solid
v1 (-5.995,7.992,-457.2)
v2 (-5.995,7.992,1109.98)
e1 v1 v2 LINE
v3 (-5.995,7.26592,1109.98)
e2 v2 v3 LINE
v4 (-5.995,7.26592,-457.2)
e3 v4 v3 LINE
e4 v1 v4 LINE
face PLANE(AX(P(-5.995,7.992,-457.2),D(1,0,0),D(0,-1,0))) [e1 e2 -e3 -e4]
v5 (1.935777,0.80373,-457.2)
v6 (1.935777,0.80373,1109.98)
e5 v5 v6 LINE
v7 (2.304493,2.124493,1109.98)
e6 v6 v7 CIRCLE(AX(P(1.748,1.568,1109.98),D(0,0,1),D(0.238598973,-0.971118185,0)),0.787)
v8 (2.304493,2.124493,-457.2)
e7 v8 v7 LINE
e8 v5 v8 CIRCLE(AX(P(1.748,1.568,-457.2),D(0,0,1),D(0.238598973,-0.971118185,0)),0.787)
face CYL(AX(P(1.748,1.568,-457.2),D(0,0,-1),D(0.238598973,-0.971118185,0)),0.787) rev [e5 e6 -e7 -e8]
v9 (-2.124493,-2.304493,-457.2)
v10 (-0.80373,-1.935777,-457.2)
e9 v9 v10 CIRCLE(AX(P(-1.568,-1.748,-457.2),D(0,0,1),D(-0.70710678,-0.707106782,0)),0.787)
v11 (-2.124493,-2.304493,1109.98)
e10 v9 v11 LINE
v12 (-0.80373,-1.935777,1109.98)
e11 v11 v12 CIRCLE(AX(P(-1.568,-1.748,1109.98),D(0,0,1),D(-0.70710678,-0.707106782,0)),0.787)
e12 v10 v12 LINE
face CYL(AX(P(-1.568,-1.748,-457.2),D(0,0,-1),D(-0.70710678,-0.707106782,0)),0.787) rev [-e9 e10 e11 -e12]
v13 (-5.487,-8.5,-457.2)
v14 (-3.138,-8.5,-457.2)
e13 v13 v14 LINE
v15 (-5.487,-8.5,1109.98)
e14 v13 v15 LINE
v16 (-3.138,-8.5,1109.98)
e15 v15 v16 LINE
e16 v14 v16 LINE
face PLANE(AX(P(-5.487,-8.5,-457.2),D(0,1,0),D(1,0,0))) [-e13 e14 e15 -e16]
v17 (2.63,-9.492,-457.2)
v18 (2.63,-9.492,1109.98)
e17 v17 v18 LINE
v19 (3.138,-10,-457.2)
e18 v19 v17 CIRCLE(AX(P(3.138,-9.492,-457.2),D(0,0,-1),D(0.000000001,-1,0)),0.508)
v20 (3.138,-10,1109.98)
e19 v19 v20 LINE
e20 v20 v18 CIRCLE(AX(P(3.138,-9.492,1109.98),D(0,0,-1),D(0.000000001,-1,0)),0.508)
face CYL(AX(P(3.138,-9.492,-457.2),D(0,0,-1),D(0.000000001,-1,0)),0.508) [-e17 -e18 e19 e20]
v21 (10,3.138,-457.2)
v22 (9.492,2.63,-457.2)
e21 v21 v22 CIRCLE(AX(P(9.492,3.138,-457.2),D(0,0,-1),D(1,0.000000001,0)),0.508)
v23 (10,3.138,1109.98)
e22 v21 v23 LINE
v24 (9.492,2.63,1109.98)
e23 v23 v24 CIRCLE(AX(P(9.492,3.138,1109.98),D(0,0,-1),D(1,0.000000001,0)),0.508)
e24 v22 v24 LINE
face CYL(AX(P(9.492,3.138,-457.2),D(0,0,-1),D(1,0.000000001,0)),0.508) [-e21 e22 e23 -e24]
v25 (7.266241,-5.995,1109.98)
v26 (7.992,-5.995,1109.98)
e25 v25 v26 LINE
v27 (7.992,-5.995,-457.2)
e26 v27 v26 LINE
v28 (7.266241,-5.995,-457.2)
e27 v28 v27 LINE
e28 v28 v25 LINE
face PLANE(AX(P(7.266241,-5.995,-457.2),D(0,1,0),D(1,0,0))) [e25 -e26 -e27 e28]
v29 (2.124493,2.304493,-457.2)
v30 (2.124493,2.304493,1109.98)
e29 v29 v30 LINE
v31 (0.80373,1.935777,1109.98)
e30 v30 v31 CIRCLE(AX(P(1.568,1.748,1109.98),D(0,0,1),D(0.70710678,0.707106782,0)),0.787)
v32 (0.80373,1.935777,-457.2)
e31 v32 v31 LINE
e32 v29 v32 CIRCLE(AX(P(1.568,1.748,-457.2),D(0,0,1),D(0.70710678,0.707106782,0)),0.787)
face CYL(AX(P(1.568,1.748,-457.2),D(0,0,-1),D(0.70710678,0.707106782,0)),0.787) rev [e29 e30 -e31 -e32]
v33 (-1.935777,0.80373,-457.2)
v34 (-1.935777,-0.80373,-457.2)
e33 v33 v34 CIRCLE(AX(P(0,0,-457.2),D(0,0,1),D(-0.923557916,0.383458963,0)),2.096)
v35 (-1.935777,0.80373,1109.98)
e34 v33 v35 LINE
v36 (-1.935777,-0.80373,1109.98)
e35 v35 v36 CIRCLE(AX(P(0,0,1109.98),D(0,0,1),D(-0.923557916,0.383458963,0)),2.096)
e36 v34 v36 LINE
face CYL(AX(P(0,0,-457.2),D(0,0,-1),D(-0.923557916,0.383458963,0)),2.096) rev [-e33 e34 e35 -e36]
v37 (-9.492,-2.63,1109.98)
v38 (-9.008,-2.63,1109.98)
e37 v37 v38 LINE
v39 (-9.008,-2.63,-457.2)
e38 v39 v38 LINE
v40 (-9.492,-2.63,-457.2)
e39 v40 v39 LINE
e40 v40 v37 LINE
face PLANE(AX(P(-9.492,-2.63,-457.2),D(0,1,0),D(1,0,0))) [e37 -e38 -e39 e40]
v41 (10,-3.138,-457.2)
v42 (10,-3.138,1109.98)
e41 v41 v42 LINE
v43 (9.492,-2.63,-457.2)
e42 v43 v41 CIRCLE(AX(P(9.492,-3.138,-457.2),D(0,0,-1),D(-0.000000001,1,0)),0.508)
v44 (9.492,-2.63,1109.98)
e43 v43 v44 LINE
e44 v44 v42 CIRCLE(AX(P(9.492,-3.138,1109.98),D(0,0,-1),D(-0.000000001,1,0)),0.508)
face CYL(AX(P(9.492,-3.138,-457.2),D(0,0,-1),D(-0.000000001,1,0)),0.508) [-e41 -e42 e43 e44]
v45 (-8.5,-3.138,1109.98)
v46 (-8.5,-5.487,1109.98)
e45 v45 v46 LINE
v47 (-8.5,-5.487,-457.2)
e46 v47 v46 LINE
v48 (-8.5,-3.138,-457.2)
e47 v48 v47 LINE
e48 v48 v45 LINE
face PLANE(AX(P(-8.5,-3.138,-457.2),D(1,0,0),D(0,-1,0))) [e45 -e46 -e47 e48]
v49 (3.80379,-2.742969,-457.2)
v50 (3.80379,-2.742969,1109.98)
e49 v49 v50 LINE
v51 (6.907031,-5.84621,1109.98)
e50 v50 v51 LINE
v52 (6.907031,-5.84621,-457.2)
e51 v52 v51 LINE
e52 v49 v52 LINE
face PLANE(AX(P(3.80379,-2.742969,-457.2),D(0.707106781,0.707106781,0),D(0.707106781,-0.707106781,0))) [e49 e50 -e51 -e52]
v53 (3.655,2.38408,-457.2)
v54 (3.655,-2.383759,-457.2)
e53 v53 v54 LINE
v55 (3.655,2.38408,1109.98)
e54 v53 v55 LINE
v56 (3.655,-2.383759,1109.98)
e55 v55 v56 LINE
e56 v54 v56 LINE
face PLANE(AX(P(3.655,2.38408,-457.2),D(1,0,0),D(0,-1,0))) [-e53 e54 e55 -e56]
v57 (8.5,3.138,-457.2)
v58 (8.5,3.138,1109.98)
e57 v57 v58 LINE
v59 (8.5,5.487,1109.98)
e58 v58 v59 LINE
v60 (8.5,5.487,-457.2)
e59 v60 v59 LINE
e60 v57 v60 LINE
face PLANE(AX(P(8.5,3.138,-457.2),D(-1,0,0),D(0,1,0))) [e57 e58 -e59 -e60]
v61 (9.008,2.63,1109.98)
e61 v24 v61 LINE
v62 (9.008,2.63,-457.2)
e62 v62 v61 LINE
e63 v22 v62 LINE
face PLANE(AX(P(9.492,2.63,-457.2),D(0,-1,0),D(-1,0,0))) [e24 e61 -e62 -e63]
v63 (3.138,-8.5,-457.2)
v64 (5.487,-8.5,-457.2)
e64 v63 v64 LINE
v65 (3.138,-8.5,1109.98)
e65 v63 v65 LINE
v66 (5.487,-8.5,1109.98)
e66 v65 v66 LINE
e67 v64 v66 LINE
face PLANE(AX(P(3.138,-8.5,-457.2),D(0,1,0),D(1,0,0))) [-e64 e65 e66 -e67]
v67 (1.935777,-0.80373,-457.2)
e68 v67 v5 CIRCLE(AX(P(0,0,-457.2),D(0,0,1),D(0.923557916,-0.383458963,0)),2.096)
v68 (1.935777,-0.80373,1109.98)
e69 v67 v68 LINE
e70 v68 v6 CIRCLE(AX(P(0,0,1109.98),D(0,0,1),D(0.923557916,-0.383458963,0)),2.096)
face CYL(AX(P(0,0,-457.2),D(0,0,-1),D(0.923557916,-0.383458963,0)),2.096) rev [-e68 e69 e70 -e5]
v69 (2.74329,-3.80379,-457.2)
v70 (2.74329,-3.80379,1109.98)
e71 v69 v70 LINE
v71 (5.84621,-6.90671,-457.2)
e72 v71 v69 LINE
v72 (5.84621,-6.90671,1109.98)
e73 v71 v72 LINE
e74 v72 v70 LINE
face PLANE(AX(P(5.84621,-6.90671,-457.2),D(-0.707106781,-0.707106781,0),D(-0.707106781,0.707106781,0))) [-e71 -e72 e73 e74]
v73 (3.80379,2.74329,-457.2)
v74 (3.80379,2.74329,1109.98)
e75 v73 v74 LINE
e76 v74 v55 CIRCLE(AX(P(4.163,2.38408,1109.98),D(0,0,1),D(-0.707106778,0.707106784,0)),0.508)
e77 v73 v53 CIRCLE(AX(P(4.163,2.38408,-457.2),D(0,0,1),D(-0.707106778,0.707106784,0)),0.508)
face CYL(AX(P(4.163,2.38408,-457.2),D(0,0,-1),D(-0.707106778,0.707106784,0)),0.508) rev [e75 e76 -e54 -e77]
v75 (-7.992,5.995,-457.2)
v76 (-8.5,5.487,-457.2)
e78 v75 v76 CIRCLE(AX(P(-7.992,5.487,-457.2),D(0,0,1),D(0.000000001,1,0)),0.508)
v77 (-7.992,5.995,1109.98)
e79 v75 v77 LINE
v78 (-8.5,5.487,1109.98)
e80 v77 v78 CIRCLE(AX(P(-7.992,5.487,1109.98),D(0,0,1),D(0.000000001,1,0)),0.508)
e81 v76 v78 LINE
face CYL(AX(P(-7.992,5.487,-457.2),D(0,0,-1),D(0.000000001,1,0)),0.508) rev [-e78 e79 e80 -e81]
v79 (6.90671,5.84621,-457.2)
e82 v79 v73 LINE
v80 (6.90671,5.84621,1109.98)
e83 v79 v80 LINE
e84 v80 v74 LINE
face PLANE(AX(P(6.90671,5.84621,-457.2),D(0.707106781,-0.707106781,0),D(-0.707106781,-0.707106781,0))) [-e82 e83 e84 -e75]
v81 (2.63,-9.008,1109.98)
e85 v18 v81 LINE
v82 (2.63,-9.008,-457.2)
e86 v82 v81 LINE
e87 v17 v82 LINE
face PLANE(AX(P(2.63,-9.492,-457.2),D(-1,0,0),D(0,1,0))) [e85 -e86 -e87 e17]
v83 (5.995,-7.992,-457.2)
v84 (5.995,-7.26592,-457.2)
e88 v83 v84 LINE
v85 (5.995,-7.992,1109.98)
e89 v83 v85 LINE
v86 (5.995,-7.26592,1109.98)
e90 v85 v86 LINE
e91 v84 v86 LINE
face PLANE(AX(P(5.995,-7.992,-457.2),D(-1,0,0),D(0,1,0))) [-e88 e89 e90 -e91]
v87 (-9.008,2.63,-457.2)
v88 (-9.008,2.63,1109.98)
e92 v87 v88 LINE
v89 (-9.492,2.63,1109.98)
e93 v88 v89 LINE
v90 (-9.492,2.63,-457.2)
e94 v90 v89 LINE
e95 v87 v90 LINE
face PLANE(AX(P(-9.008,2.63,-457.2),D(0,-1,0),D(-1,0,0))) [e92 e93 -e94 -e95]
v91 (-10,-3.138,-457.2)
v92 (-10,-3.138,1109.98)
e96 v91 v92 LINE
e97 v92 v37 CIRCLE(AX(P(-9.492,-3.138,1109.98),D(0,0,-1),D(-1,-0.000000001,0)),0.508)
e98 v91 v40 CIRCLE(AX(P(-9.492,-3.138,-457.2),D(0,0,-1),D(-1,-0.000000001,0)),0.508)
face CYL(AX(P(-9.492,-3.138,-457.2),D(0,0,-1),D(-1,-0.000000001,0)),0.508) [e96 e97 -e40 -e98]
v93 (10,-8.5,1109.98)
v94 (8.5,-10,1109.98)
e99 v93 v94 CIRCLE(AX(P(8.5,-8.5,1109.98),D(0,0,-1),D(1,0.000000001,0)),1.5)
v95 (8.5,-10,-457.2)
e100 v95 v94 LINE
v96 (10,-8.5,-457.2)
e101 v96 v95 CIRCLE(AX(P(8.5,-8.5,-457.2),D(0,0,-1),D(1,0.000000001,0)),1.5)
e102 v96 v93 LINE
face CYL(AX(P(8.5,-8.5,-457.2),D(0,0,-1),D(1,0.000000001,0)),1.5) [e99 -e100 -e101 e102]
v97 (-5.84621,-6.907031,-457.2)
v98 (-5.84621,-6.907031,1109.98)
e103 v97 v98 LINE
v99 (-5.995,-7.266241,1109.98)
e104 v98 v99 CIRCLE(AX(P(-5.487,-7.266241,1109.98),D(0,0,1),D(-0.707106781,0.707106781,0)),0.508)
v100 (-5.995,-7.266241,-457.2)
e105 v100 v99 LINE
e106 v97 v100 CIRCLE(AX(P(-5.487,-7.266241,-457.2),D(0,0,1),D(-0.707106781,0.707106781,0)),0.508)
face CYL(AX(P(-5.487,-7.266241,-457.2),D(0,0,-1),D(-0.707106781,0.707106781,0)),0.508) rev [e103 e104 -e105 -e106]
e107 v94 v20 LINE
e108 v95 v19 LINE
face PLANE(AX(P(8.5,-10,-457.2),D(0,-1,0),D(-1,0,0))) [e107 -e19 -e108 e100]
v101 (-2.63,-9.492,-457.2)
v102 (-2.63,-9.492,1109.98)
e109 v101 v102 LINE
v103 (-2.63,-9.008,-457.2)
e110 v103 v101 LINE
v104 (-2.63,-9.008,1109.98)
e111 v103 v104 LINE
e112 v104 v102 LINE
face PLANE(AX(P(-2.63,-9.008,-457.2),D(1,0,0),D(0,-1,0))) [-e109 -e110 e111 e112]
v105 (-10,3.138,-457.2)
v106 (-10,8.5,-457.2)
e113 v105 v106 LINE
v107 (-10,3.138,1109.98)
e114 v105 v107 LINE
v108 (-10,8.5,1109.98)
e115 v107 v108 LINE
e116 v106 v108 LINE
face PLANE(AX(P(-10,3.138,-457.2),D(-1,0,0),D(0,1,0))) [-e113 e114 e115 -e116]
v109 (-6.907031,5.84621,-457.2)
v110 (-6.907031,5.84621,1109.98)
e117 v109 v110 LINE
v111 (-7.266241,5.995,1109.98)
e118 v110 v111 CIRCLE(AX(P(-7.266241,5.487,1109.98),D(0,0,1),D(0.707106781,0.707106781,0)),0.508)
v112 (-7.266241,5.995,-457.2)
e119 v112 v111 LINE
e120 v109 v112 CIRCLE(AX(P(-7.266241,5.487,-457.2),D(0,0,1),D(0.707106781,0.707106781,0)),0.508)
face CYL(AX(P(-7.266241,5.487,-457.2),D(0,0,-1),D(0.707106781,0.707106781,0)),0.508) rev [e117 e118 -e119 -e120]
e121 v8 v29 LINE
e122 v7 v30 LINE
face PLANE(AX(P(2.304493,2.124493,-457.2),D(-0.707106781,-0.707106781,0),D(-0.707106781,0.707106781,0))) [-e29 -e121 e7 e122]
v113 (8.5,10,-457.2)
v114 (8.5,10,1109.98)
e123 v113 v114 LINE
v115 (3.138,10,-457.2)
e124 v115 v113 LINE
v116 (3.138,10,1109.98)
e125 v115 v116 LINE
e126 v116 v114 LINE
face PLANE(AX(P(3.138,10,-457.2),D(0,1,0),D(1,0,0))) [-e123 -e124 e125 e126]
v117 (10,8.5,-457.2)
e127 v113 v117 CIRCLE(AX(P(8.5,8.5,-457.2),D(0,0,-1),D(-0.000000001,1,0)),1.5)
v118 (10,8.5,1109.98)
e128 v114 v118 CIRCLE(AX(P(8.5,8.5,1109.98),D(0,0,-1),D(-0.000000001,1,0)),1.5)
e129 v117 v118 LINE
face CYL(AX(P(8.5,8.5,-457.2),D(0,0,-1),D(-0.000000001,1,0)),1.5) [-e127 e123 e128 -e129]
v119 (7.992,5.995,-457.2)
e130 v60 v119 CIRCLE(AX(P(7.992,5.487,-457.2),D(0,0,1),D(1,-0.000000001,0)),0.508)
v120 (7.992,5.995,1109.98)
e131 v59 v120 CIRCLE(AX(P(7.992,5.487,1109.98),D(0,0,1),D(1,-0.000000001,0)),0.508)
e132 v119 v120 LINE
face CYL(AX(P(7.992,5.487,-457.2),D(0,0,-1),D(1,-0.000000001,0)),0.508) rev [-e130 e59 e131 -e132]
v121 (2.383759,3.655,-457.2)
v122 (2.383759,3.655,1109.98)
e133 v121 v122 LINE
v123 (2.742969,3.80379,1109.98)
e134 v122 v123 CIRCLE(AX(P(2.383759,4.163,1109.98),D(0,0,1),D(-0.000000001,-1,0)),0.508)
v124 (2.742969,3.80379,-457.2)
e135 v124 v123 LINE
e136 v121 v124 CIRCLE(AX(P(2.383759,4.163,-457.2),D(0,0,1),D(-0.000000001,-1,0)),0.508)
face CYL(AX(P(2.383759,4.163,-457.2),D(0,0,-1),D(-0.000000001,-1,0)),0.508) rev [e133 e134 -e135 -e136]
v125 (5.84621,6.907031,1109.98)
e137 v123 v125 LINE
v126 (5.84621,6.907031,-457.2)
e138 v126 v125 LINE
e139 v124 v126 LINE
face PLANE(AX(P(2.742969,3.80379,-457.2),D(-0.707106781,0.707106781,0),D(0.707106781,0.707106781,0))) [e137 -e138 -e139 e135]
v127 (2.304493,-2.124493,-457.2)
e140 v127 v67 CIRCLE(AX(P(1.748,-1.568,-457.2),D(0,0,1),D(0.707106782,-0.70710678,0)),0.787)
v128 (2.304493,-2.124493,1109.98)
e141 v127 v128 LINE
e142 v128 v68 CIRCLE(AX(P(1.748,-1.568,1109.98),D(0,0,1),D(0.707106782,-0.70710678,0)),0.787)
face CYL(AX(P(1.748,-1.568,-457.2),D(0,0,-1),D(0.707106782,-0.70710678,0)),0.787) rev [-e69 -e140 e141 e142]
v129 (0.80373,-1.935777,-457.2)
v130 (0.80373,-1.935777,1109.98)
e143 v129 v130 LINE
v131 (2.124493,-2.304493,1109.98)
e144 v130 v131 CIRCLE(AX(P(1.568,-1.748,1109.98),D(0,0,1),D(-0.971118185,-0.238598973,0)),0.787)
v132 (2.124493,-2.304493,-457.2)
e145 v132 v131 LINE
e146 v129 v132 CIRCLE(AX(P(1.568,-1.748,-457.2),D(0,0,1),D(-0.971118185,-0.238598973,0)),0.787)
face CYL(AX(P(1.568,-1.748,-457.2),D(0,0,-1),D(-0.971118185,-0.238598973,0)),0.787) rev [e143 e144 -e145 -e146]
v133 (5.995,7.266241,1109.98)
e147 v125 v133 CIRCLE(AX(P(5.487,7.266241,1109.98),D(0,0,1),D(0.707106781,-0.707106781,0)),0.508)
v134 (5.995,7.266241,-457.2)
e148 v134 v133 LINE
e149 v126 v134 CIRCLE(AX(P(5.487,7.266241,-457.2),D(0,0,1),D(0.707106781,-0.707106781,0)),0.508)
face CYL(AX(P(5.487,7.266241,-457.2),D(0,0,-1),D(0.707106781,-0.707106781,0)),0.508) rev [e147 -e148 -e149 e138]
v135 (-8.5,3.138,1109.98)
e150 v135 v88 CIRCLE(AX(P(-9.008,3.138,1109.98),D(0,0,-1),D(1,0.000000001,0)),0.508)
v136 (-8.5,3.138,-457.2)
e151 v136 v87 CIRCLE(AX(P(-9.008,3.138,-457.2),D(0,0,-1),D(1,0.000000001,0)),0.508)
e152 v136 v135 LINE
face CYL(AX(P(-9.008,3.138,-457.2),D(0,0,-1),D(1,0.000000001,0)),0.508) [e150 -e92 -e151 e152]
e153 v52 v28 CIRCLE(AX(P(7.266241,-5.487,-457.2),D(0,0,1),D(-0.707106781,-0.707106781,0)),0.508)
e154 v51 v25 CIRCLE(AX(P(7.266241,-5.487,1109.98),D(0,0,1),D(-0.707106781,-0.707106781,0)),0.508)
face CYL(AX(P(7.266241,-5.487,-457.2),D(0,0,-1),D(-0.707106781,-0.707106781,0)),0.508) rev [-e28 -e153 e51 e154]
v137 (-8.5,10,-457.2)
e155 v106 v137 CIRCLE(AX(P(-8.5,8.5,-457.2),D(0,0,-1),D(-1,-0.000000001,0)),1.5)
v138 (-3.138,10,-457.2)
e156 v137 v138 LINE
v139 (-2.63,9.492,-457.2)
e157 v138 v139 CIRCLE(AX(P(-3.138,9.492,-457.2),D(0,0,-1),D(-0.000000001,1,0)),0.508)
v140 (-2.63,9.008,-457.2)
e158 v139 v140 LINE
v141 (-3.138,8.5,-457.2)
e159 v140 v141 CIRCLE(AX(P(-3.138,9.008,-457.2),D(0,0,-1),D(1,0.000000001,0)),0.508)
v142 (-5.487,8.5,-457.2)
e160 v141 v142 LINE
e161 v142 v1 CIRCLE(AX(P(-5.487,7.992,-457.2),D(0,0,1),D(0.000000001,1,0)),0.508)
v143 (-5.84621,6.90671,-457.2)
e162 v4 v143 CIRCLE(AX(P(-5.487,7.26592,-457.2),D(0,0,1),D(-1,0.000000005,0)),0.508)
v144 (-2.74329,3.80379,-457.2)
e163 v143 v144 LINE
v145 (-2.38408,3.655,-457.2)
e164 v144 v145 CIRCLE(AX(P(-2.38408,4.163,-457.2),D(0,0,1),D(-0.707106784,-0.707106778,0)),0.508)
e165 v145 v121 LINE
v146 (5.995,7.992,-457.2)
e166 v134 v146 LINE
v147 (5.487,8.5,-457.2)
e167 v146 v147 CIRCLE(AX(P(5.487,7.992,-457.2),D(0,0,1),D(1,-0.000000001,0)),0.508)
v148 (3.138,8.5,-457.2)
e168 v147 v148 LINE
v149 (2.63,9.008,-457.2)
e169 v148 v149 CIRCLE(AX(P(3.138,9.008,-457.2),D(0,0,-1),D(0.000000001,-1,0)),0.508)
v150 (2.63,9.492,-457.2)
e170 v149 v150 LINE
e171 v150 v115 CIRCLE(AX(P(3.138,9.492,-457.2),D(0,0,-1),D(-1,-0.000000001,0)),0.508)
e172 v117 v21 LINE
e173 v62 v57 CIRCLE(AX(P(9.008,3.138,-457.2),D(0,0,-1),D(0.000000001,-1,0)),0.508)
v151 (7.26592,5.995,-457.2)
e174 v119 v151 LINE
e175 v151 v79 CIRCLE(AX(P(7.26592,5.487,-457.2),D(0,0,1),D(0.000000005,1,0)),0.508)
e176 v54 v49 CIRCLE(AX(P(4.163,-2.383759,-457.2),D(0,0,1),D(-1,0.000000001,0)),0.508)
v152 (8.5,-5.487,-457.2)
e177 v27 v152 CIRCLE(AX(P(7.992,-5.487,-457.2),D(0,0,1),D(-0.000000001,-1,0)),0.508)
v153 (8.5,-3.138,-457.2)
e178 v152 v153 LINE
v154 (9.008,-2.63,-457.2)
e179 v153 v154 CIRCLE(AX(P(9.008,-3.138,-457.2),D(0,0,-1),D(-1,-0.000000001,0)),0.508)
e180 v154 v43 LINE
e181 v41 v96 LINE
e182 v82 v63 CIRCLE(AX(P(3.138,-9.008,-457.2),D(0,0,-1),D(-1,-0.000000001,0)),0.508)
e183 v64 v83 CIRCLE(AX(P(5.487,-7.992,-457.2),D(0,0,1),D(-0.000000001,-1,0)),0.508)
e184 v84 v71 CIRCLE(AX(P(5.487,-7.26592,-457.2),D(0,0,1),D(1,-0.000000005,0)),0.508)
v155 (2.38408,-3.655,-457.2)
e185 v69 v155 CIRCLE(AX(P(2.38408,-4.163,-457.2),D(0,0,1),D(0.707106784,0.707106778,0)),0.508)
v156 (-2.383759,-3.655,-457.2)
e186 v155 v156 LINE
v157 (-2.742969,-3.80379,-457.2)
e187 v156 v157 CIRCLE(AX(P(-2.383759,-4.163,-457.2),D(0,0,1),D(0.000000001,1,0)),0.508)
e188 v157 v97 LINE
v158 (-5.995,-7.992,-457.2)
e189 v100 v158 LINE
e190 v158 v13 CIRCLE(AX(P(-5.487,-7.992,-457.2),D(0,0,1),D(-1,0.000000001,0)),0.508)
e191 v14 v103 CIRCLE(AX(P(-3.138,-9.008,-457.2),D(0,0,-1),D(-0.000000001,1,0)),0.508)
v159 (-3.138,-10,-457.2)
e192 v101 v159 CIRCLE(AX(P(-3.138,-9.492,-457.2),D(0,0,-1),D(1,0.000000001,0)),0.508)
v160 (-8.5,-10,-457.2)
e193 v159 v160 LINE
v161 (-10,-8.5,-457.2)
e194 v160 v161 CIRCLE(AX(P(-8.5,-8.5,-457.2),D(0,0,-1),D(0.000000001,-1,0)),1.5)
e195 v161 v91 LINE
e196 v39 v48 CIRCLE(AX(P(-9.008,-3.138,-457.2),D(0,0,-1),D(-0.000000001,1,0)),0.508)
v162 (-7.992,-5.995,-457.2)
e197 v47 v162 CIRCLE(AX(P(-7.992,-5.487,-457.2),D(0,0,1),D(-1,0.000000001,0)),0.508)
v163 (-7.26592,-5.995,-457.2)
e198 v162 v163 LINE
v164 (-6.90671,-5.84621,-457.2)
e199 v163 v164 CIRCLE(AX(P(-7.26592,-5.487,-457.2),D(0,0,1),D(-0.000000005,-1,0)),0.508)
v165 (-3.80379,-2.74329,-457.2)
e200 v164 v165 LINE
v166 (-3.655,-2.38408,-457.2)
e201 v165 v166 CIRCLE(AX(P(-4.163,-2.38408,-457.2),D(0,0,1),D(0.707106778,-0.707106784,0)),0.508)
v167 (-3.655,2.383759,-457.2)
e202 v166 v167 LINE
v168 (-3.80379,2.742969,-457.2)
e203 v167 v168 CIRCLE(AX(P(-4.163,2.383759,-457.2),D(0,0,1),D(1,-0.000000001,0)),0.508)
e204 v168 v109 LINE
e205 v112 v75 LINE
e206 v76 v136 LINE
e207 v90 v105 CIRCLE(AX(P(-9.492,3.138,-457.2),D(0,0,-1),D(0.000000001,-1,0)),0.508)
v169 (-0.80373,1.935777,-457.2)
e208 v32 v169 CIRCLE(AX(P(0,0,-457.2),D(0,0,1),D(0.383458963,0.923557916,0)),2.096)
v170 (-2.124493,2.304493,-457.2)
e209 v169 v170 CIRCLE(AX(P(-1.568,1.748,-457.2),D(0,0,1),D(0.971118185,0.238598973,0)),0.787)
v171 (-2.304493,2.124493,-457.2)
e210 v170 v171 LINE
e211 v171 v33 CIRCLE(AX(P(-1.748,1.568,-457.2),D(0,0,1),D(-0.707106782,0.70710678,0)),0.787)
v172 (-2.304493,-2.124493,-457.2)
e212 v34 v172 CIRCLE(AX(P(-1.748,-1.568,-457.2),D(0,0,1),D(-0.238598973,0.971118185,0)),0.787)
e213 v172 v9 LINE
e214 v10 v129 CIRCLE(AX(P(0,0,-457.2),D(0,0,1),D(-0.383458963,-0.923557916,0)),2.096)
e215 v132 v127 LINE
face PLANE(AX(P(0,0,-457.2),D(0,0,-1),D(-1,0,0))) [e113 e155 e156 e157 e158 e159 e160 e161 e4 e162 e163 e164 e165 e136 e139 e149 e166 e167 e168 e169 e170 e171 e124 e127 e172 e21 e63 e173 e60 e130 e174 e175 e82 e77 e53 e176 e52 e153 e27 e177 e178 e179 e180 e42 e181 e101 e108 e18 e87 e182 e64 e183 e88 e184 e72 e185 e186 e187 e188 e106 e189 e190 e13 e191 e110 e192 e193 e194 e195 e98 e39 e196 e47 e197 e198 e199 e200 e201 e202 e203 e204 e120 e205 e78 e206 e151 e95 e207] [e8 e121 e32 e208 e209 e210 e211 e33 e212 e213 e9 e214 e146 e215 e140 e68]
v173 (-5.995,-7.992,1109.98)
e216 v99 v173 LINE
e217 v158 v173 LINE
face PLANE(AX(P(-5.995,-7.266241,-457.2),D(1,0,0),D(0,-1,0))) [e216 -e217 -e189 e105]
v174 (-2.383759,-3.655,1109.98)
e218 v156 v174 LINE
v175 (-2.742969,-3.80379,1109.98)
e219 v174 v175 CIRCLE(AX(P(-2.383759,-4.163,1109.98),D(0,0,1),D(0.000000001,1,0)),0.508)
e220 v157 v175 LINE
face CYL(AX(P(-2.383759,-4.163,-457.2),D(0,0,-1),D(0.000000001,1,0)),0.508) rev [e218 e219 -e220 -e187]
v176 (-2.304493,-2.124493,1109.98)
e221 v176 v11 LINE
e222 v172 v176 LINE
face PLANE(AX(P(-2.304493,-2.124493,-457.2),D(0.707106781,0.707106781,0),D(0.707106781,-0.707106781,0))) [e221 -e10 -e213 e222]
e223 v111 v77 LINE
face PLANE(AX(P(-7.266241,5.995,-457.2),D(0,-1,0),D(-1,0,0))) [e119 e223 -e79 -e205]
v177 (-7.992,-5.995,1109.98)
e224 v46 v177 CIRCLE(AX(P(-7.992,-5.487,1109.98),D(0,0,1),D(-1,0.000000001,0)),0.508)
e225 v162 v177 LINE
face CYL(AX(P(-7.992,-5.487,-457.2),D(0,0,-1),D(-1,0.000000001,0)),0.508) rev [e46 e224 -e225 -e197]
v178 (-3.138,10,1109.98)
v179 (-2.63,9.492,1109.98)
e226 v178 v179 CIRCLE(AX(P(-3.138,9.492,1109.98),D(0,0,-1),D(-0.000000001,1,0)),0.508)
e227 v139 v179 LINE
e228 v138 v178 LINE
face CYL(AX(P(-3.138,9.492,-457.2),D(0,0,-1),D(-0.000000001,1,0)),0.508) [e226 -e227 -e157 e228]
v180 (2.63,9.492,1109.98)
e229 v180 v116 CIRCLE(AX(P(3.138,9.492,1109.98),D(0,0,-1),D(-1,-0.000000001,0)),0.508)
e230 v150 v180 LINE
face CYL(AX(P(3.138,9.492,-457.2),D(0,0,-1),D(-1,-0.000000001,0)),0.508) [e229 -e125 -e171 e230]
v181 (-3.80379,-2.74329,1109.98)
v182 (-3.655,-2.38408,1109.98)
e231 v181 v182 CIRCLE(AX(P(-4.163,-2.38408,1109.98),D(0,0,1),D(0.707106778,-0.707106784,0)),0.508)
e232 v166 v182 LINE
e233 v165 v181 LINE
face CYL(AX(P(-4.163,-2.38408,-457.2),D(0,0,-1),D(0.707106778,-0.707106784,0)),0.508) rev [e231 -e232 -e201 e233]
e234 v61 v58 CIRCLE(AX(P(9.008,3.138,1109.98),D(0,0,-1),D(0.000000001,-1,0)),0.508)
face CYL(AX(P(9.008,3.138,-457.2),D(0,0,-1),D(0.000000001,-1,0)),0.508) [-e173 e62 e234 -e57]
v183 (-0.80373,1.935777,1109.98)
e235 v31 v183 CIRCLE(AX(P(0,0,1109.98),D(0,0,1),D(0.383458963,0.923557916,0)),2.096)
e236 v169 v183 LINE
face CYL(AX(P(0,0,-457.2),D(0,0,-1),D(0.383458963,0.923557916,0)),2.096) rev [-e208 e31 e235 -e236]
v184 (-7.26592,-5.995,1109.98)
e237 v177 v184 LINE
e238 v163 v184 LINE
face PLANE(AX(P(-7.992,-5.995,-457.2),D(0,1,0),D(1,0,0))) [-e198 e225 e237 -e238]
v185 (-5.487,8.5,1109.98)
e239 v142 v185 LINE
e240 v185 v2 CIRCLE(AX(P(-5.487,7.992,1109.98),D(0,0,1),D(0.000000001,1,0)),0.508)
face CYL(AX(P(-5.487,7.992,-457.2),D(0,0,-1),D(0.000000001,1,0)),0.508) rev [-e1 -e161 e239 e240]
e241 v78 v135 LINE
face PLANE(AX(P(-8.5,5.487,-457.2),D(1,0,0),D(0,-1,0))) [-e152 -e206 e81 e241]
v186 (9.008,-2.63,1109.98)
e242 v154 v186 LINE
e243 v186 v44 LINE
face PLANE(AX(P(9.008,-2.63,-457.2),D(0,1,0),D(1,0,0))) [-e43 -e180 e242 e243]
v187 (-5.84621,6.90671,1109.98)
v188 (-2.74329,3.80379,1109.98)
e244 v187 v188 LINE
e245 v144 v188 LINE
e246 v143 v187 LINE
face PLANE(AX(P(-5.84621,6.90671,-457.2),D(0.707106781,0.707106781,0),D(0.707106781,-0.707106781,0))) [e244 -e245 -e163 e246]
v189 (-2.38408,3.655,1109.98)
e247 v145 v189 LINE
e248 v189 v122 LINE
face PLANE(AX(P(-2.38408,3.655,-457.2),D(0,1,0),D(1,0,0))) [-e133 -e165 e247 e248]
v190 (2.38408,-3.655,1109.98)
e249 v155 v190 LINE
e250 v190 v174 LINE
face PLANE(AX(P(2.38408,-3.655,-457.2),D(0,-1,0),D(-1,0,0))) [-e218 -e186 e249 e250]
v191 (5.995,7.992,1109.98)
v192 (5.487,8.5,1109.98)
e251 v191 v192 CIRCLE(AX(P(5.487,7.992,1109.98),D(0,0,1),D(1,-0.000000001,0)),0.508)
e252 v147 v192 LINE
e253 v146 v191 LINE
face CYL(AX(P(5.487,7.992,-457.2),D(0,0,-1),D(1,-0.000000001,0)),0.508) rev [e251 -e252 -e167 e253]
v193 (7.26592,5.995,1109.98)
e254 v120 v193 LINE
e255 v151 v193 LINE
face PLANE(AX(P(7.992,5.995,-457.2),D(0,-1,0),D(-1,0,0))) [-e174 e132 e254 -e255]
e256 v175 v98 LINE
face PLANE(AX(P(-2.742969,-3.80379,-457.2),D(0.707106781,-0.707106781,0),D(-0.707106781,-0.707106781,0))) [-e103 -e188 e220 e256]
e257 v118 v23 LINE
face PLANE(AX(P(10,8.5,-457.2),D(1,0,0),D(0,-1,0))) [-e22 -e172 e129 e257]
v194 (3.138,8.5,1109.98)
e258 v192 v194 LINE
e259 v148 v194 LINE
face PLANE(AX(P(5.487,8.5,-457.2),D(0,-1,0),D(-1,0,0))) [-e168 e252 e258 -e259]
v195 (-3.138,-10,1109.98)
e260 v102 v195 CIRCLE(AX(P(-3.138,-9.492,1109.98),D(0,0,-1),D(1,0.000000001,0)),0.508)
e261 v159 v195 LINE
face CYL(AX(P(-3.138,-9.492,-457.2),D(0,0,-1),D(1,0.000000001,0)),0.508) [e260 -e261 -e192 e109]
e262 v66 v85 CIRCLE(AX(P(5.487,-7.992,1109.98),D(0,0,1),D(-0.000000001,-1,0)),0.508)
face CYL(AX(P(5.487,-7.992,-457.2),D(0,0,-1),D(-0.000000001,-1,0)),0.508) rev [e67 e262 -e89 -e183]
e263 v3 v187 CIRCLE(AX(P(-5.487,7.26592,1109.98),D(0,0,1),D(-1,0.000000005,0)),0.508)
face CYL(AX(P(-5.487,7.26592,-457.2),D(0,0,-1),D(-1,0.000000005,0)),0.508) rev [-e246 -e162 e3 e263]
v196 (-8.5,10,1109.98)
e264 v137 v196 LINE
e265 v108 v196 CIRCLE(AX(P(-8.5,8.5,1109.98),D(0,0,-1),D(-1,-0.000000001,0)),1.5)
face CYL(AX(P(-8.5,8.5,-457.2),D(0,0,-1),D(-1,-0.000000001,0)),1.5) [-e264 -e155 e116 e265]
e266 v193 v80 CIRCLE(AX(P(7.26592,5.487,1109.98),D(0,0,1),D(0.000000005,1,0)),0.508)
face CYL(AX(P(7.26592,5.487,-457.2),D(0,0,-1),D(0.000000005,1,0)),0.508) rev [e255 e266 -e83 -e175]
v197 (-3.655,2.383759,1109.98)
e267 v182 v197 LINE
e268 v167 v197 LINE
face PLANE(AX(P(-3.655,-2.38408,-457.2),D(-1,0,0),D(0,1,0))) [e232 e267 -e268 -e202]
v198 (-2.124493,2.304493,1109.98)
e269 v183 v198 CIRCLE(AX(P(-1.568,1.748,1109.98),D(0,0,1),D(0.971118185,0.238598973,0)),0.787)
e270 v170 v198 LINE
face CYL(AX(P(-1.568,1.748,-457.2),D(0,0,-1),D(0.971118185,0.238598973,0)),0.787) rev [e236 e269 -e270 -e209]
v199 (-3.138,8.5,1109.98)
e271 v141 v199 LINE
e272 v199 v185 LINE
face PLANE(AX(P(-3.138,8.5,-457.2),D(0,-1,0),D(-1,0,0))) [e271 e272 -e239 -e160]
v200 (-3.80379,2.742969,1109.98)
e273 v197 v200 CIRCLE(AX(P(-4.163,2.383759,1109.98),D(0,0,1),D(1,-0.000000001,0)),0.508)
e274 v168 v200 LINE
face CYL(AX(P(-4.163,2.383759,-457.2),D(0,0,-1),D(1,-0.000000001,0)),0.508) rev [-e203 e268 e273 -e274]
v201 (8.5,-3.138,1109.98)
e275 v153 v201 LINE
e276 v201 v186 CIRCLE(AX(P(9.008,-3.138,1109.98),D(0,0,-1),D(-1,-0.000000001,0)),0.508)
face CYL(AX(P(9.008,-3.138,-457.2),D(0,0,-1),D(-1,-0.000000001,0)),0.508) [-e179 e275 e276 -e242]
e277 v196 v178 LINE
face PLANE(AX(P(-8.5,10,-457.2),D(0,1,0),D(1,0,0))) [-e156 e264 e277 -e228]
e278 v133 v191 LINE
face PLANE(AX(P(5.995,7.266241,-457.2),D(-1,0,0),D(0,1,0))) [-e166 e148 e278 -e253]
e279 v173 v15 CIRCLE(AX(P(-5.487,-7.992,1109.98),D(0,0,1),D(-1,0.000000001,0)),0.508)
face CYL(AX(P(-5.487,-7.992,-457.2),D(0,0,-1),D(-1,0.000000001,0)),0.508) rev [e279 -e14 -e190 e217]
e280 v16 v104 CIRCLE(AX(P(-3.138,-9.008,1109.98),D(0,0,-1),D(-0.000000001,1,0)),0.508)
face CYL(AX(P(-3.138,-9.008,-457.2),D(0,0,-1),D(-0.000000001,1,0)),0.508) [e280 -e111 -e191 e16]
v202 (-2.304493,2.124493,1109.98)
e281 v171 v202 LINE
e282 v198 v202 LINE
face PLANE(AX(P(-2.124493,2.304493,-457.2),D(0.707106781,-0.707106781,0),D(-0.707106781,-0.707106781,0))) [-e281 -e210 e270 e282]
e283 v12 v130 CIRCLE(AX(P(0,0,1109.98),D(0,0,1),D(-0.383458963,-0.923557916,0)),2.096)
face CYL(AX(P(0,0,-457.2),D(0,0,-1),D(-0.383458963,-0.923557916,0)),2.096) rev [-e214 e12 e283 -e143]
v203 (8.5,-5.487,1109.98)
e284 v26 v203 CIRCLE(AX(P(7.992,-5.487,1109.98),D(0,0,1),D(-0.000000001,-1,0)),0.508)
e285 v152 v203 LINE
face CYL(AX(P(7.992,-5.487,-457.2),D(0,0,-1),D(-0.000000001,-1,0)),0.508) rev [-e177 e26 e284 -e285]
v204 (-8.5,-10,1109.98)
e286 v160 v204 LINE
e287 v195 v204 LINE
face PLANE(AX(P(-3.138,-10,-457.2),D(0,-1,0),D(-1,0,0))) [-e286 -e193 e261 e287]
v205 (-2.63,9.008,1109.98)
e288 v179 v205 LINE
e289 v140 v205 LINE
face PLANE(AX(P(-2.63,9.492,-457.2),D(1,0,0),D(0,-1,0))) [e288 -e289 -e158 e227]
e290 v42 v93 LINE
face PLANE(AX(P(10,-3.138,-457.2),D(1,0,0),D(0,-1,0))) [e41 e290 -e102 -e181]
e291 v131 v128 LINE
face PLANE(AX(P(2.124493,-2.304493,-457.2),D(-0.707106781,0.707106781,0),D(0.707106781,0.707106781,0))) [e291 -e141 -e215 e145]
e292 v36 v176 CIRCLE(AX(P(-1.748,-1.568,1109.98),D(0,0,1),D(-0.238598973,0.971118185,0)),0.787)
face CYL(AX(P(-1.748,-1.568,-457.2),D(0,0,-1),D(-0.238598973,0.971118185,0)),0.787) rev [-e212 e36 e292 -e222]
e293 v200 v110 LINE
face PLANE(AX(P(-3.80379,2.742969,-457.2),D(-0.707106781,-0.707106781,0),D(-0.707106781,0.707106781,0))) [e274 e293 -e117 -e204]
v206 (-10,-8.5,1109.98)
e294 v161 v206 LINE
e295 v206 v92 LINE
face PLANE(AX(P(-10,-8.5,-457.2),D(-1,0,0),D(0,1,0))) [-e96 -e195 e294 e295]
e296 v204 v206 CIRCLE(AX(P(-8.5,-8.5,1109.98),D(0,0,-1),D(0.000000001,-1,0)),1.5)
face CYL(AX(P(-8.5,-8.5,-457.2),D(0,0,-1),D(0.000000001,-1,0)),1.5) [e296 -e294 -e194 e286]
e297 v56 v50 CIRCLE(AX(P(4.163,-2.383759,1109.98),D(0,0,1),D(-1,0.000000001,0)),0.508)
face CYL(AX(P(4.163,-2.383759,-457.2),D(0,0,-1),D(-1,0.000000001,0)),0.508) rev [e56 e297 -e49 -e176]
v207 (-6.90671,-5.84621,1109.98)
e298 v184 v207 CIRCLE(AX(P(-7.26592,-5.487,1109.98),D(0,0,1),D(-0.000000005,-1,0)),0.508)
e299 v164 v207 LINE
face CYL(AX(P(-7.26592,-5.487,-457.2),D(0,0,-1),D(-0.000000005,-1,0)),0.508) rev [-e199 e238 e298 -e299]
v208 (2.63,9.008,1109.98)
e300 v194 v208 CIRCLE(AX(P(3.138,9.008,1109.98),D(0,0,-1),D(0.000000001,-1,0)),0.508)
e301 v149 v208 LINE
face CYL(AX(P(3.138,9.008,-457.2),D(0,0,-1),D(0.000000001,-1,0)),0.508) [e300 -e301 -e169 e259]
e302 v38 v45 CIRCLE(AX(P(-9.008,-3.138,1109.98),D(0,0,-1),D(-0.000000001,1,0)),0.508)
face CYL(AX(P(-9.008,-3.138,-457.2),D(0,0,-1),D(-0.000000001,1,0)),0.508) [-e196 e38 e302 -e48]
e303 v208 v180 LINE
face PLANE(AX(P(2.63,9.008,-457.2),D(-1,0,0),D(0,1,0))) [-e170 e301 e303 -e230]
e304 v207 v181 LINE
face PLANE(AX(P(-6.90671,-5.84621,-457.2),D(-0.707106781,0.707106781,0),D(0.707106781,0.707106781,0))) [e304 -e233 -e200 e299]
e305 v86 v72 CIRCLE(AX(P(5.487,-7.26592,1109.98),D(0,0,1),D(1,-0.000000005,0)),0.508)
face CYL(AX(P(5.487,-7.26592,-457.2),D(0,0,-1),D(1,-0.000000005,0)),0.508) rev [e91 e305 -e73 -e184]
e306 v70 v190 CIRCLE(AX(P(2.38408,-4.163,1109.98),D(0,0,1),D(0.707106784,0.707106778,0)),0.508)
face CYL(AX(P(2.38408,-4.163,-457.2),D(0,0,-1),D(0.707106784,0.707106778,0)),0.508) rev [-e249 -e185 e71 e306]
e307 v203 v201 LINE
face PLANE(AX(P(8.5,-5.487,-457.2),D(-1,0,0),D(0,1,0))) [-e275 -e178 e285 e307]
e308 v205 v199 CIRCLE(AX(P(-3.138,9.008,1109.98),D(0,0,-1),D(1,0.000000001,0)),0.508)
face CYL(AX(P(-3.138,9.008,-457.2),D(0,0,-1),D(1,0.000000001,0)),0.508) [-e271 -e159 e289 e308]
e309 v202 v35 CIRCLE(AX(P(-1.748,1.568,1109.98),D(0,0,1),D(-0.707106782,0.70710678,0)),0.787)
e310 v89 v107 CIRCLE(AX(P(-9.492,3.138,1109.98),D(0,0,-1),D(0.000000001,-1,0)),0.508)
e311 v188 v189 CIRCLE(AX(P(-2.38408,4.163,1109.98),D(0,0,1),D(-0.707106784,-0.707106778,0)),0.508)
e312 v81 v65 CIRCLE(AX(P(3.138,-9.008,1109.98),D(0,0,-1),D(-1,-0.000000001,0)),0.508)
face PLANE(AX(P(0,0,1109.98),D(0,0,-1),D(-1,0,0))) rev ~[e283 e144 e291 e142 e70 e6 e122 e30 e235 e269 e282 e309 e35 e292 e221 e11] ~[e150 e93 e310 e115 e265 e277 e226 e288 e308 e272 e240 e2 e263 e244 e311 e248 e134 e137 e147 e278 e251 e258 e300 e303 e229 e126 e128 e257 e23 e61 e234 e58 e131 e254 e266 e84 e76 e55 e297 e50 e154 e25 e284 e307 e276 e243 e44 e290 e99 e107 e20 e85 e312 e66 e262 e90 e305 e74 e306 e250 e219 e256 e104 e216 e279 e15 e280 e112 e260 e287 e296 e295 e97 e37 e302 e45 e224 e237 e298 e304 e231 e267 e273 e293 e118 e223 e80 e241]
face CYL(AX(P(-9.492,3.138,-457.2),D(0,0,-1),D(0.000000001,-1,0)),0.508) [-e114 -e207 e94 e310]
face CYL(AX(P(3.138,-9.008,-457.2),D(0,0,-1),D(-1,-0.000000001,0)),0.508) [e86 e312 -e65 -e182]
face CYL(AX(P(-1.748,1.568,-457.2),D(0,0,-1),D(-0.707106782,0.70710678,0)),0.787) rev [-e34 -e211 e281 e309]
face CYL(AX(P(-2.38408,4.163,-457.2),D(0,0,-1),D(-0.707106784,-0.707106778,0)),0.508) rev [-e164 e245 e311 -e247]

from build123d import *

# Parameters (mm, degrees)
BOSS_EXTRUDE1_DEPTH = 1567.18


with BuildPart() as part:
    # Sketch1 → Boss-Extrude1 (new body)
    with BuildSketch(Plane(origin=(0, 0, -457.2), x_dir=(-1, 0, 0), z_dir=(0, 0, -1))):
        with BuildLine():
            Line((10, -8.5), (10, -3.138))
            ThreePointArc((10, -3.138), (9.851210245, -2.778789755), (9.492, -2.63))
            Line((9.492, -2.63), (9.008, -2.63))
            ThreePointArc((9.008, -2.63), (8.648789755, -2.778789755), (8.5, -3.138))
            Line((8.5, -3.138), (8.5, -5.487))
            ThreePointArc((8.5, -5.487), (8.351210245, -5.846210245), (7.992, -5.995))
            Line((7.992, -5.995), (7.26592049, -5.995))
            ThreePointArc((7.26592049, -5.995), (7.071517306, -5.956330803), (6.906710245, -5.846210245))
            Line((6.906710245, -5.846210245), (3.803789755, -2.743289755))
            ThreePointArc((3.803789755, -2.743289755), (3.693669197, -2.578482694), (3.655, -2.38407951))
            Line((3.655, -2.38407951), (3.655, 2.383759167))
            ThreePointArc((3.655, 2.383759167), (3.693669197, 2.57816235), (3.803789755, 2.742969412))
            Line((3.803789755, 2.742969412), (6.907030588, 5.846210245))
            ThreePointArc((6.907030588, 5.846210245), (7.07183765, 5.956330803), (7.266240833, 5.995))
            Line((7.266240833, 5.995), (7.992, 5.995))
            ThreePointArc((7.992, 5.995), (8.351210245, 5.846210245), (8.5, 5.487))
            Line((8.5, 5.487), (8.5, 3.138))
            ThreePointArc((8.5, 3.138), (8.648789755, 2.778789755), (9.008, 2.63))
            Line((9.008, 2.63), (9.492, 2.63))
            ThreePointArc((9.492, 2.63), (9.851210245, 2.778789755), (10, 3.138))
            Line((10, 3.138), (10, 8.5))
            ThreePointArc((10, 8.5), (9.560660172, 9.560660172), (8.5, 10))
            Line((8.5, 10), (3.138, 10))
            ThreePointArc((3.138, 10), (2.778789755, 9.851210245), (2.63, 9.492))
            Line((2.63, 9.492), (2.63, 9.008))
            ThreePointArc((2.63, 9.008), (2.778789755, 8.648789755), (3.138, 8.5))
            Line((3.138, 8.5), (5.487, 8.5))
            ThreePointArc((5.487, 8.5), (5.846210245, 8.351210245), (5.995, 7.992))
            Line((5.995, 7.992), (5.995, 7.26592049))
            ThreePointArc((5.995, 7.26592049), (5.956330803, 7.071517306), (5.846210245, 6.906710245))
            Line((5.846210245, 6.906710245), (2.743289755, 3.803789755))
            ThreePointArc((2.743289755, 3.803789755), (2.578482694, 3.693669197), (2.38407951, 3.655))
            Line((2.38407951, 3.655), (-2.383759167, 3.655))
            ThreePointArc((-2.383759167, 3.655), (-2.57816235, 3.693669197), (-2.742969412, 3.803789755))
            Line((-2.742969412, 3.803789755), (-5.846210245, 6.907030588))
            ThreePointArc((-5.846210245, 6.907030588), (-5.956330803, 7.07183765), (-5.995, 7.266240833))
            Line((-5.995, 7.266240833), (-5.995, 7.992))
            ThreePointArc((-5.995, 7.992), (-5.846210245, 8.351210245), (-5.487, 8.5))
            Line((-5.487, 8.5), (-3.138, 8.5))
            ThreePointArc((-3.138, 8.5), (-2.778789755, 8.648789755), (-2.63, 9.008))
            Line((-2.63, 9.008), (-2.63, 9.492))
            ThreePointArc((-2.63, 9.492), (-2.778789755, 9.851210245), (-3.138, 10))
            Line((-3.138, 10), (-8.5, 10))
            ThreePointArc((-8.5, 10), (-9.560660172, 9.560660172), (-10, 8.5))
            Line((-10, 8.5), (-10, 3.138))
            ThreePointArc((-10, 3.138), (-9.851210245, 2.778789755), (-9.492, 2.63))
            Line((-9.492, 2.63), (-9.008, 2.63))
            ThreePointArc((-9.008, 2.63), (-8.648789755, 2.778789755), (-8.5, 3.138))
            Line((-8.5, 3.138), (-8.5, 5.487))
            ThreePointArc((-8.5, 5.487), (-8.351210245, 5.846210245), (-7.992, 5.995))
            Line((-7.992, 5.995), (-7.26592049, 5.995))
            ThreePointArc((-7.26592049, 5.995), (-7.071517306, 5.956330803), (-6.906710245, 5.846210245))
            Line((-6.906710245, 5.846210245), (-3.803789755, 2.743289755))
            ThreePointArc((-3.803789755, 2.743289755), (-3.693669197, 2.578482694), (-3.655, 2.38407951))
            Line((-3.655, 2.38407951), (-3.655, -2.383759167))
            ThreePointArc((-3.655, -2.383759167), (-3.693669197, -2.57816235), (-3.803789755, -2.742969412))
            Line((-3.803789755, -2.742969412), (-6.907030588, -5.846210245))
            ThreePointArc((-6.907030588, -5.846210245), (-7.07183765, -5.956330803), (-7.266240833, -5.995))
            Line((-7.266240833, -5.995), (-7.992, -5.995))
            ThreePointArc((-7.992, -5.995), (-8.351210245, -5.846210245), (-8.5, -5.487))
            Line((-8.5, -5.487), (-8.5, -3.138))
            ThreePointArc((-8.5, -3.138), (-8.648789755, -2.778789755), (-9.008, -2.63))
            Line((-9.008, -2.63), (-9.492, -2.63))
            ThreePointArc((-9.492, -2.63), (-9.851210245, -2.778789755), (-10, -3.138))
            Line((-10, -3.138), (-10, -8.5))
            ThreePointArc((-10, -8.5), (-9.560660172, -9.560660172), (-8.5, -10))
            Line((-8.5, -10), (-3.138, -10))
            ThreePointArc((-3.138, -10), (-2.778789755, -9.851210245), (-2.63, -9.492))
            Line((-2.63, -9.492), (-2.63, -9.008))
            ThreePointArc((-2.63, -9.008), (-2.778789755, -8.648789755), (-3.138, -8.5))
            Line((-3.138, -8.5), (-5.487, -8.5))
            ThreePointArc((-5.487, -8.5), (-5.846210245, -8.351210245), (-5.995, -7.992))
            Line((-5.995, -7.992), (-5.995, -7.26592049))
            ThreePointArc((-5.995, -7.26592049), (-5.956330803, -7.071517306), (-5.846210245, -6.906710245))
            Line((-5.846210245, -6.906710245), (-2.743289755, -3.803789755))
            ThreePointArc((-2.743289755, -3.803789755), (-2.578482694, -3.693669197), (-2.38407951, -3.655))
            Line((-2.38407951, -3.655), (2.383759167, -3.655))
            ThreePointArc((2.383759167, -3.655), (2.57816235, -3.693669197), (2.742969412, -3.803789755))
            Line((2.742969412, -3.803789755), (5.846210245, -6.907030588))
            ThreePointArc((5.846210245, -6.907030588), (5.956330803, -7.07183765), (5.995, -7.266240833))
            Line((5.995, -7.266240833), (5.995, -7.992))
            ThreePointArc((5.995, -7.992), (5.846210245, -8.351210245), (5.487, -8.5))
            Line((5.487, -8.5), (3.138, -8.5))
            ThreePointArc((3.138, -8.5), (2.778789755, -8.648789755), (2.63, -9.008))
            Line((2.63, -9.008), (2.63, -9.492))
            ThreePointArc((2.63, -9.492), (2.778789755, -9.851210245), (3.138, -10))
            Line((3.138, -10), (8.5, -10))
            ThreePointArc((8.5, -10), (9.560660172, -9.560660172), (10, -8.5))
        make_face()
        with BuildLine():
            Line((2.304493037, -2.124493037), (2.124493037, -2.304493037))
            ThreePointArc((2.124493037, -2.304493037), (1.35638567, -2.506016078), (0.803729988, -1.935777391))
            ThreePointArc((0.803729988, -1.935777391), (0, -2.096), (-0.803729988, -1.935777391))
            ThreePointArc((-0.803729988, -1.935777391), (-1.35638567, -2.506016078), (-2.124493037, -2.304493037))
            Line((-2.124493037, -2.304493037), (-2.304493037, -2.124493037))
            ThreePointArc((-2.304493037, -2.124493037), (-2.506016078, -1.35638567), (-1.935777391, -0.803729988))
            ThreePointArc((-1.935777391, -0.803729988), (-2.096, 0), (-1.935777391, 0.803729988))
            ThreePointArc((-1.935777391, 0.803729988), (-2.506016078, 1.35638567), (-2.304493037, 2.124493037))
            Line((-2.304493037, 2.124493037), (-2.124493037, 2.304493037))
            ThreePointArc((-2.124493037, 2.304493037), (-1.35638567, 2.506016078), (-0.803729988, 1.935777391))
            ThreePointArc((-0.803729988, 1.935777391), (0, 2.096), (0.803729988, 1.935777391))
            ThreePointArc((0.803729988, 1.935777391), (1.35638567, 2.506016078), (2.124493037, 2.304493037))
            Line((2.124493037, 2.304493037), (2.304493037, 2.124493037))
            ThreePointArc((2.304493037, 2.124493037), (2.506016078, 1.35638567), (1.935777391, 0.803729988))
            ThreePointArc((1.935777391, 0.803729988), (2.096, 0), (1.935777391, -0.803729988))
            ThreePointArc((1.935777391, -0.803729988), (2.506016078, -1.35638567), (2.304493037, -2.124493037))
        make_face(mode=Mode.SUBTRACT)
    extrude(amount=-BOSS_EXTRUDE1_DEPTH)


solid = part.part
